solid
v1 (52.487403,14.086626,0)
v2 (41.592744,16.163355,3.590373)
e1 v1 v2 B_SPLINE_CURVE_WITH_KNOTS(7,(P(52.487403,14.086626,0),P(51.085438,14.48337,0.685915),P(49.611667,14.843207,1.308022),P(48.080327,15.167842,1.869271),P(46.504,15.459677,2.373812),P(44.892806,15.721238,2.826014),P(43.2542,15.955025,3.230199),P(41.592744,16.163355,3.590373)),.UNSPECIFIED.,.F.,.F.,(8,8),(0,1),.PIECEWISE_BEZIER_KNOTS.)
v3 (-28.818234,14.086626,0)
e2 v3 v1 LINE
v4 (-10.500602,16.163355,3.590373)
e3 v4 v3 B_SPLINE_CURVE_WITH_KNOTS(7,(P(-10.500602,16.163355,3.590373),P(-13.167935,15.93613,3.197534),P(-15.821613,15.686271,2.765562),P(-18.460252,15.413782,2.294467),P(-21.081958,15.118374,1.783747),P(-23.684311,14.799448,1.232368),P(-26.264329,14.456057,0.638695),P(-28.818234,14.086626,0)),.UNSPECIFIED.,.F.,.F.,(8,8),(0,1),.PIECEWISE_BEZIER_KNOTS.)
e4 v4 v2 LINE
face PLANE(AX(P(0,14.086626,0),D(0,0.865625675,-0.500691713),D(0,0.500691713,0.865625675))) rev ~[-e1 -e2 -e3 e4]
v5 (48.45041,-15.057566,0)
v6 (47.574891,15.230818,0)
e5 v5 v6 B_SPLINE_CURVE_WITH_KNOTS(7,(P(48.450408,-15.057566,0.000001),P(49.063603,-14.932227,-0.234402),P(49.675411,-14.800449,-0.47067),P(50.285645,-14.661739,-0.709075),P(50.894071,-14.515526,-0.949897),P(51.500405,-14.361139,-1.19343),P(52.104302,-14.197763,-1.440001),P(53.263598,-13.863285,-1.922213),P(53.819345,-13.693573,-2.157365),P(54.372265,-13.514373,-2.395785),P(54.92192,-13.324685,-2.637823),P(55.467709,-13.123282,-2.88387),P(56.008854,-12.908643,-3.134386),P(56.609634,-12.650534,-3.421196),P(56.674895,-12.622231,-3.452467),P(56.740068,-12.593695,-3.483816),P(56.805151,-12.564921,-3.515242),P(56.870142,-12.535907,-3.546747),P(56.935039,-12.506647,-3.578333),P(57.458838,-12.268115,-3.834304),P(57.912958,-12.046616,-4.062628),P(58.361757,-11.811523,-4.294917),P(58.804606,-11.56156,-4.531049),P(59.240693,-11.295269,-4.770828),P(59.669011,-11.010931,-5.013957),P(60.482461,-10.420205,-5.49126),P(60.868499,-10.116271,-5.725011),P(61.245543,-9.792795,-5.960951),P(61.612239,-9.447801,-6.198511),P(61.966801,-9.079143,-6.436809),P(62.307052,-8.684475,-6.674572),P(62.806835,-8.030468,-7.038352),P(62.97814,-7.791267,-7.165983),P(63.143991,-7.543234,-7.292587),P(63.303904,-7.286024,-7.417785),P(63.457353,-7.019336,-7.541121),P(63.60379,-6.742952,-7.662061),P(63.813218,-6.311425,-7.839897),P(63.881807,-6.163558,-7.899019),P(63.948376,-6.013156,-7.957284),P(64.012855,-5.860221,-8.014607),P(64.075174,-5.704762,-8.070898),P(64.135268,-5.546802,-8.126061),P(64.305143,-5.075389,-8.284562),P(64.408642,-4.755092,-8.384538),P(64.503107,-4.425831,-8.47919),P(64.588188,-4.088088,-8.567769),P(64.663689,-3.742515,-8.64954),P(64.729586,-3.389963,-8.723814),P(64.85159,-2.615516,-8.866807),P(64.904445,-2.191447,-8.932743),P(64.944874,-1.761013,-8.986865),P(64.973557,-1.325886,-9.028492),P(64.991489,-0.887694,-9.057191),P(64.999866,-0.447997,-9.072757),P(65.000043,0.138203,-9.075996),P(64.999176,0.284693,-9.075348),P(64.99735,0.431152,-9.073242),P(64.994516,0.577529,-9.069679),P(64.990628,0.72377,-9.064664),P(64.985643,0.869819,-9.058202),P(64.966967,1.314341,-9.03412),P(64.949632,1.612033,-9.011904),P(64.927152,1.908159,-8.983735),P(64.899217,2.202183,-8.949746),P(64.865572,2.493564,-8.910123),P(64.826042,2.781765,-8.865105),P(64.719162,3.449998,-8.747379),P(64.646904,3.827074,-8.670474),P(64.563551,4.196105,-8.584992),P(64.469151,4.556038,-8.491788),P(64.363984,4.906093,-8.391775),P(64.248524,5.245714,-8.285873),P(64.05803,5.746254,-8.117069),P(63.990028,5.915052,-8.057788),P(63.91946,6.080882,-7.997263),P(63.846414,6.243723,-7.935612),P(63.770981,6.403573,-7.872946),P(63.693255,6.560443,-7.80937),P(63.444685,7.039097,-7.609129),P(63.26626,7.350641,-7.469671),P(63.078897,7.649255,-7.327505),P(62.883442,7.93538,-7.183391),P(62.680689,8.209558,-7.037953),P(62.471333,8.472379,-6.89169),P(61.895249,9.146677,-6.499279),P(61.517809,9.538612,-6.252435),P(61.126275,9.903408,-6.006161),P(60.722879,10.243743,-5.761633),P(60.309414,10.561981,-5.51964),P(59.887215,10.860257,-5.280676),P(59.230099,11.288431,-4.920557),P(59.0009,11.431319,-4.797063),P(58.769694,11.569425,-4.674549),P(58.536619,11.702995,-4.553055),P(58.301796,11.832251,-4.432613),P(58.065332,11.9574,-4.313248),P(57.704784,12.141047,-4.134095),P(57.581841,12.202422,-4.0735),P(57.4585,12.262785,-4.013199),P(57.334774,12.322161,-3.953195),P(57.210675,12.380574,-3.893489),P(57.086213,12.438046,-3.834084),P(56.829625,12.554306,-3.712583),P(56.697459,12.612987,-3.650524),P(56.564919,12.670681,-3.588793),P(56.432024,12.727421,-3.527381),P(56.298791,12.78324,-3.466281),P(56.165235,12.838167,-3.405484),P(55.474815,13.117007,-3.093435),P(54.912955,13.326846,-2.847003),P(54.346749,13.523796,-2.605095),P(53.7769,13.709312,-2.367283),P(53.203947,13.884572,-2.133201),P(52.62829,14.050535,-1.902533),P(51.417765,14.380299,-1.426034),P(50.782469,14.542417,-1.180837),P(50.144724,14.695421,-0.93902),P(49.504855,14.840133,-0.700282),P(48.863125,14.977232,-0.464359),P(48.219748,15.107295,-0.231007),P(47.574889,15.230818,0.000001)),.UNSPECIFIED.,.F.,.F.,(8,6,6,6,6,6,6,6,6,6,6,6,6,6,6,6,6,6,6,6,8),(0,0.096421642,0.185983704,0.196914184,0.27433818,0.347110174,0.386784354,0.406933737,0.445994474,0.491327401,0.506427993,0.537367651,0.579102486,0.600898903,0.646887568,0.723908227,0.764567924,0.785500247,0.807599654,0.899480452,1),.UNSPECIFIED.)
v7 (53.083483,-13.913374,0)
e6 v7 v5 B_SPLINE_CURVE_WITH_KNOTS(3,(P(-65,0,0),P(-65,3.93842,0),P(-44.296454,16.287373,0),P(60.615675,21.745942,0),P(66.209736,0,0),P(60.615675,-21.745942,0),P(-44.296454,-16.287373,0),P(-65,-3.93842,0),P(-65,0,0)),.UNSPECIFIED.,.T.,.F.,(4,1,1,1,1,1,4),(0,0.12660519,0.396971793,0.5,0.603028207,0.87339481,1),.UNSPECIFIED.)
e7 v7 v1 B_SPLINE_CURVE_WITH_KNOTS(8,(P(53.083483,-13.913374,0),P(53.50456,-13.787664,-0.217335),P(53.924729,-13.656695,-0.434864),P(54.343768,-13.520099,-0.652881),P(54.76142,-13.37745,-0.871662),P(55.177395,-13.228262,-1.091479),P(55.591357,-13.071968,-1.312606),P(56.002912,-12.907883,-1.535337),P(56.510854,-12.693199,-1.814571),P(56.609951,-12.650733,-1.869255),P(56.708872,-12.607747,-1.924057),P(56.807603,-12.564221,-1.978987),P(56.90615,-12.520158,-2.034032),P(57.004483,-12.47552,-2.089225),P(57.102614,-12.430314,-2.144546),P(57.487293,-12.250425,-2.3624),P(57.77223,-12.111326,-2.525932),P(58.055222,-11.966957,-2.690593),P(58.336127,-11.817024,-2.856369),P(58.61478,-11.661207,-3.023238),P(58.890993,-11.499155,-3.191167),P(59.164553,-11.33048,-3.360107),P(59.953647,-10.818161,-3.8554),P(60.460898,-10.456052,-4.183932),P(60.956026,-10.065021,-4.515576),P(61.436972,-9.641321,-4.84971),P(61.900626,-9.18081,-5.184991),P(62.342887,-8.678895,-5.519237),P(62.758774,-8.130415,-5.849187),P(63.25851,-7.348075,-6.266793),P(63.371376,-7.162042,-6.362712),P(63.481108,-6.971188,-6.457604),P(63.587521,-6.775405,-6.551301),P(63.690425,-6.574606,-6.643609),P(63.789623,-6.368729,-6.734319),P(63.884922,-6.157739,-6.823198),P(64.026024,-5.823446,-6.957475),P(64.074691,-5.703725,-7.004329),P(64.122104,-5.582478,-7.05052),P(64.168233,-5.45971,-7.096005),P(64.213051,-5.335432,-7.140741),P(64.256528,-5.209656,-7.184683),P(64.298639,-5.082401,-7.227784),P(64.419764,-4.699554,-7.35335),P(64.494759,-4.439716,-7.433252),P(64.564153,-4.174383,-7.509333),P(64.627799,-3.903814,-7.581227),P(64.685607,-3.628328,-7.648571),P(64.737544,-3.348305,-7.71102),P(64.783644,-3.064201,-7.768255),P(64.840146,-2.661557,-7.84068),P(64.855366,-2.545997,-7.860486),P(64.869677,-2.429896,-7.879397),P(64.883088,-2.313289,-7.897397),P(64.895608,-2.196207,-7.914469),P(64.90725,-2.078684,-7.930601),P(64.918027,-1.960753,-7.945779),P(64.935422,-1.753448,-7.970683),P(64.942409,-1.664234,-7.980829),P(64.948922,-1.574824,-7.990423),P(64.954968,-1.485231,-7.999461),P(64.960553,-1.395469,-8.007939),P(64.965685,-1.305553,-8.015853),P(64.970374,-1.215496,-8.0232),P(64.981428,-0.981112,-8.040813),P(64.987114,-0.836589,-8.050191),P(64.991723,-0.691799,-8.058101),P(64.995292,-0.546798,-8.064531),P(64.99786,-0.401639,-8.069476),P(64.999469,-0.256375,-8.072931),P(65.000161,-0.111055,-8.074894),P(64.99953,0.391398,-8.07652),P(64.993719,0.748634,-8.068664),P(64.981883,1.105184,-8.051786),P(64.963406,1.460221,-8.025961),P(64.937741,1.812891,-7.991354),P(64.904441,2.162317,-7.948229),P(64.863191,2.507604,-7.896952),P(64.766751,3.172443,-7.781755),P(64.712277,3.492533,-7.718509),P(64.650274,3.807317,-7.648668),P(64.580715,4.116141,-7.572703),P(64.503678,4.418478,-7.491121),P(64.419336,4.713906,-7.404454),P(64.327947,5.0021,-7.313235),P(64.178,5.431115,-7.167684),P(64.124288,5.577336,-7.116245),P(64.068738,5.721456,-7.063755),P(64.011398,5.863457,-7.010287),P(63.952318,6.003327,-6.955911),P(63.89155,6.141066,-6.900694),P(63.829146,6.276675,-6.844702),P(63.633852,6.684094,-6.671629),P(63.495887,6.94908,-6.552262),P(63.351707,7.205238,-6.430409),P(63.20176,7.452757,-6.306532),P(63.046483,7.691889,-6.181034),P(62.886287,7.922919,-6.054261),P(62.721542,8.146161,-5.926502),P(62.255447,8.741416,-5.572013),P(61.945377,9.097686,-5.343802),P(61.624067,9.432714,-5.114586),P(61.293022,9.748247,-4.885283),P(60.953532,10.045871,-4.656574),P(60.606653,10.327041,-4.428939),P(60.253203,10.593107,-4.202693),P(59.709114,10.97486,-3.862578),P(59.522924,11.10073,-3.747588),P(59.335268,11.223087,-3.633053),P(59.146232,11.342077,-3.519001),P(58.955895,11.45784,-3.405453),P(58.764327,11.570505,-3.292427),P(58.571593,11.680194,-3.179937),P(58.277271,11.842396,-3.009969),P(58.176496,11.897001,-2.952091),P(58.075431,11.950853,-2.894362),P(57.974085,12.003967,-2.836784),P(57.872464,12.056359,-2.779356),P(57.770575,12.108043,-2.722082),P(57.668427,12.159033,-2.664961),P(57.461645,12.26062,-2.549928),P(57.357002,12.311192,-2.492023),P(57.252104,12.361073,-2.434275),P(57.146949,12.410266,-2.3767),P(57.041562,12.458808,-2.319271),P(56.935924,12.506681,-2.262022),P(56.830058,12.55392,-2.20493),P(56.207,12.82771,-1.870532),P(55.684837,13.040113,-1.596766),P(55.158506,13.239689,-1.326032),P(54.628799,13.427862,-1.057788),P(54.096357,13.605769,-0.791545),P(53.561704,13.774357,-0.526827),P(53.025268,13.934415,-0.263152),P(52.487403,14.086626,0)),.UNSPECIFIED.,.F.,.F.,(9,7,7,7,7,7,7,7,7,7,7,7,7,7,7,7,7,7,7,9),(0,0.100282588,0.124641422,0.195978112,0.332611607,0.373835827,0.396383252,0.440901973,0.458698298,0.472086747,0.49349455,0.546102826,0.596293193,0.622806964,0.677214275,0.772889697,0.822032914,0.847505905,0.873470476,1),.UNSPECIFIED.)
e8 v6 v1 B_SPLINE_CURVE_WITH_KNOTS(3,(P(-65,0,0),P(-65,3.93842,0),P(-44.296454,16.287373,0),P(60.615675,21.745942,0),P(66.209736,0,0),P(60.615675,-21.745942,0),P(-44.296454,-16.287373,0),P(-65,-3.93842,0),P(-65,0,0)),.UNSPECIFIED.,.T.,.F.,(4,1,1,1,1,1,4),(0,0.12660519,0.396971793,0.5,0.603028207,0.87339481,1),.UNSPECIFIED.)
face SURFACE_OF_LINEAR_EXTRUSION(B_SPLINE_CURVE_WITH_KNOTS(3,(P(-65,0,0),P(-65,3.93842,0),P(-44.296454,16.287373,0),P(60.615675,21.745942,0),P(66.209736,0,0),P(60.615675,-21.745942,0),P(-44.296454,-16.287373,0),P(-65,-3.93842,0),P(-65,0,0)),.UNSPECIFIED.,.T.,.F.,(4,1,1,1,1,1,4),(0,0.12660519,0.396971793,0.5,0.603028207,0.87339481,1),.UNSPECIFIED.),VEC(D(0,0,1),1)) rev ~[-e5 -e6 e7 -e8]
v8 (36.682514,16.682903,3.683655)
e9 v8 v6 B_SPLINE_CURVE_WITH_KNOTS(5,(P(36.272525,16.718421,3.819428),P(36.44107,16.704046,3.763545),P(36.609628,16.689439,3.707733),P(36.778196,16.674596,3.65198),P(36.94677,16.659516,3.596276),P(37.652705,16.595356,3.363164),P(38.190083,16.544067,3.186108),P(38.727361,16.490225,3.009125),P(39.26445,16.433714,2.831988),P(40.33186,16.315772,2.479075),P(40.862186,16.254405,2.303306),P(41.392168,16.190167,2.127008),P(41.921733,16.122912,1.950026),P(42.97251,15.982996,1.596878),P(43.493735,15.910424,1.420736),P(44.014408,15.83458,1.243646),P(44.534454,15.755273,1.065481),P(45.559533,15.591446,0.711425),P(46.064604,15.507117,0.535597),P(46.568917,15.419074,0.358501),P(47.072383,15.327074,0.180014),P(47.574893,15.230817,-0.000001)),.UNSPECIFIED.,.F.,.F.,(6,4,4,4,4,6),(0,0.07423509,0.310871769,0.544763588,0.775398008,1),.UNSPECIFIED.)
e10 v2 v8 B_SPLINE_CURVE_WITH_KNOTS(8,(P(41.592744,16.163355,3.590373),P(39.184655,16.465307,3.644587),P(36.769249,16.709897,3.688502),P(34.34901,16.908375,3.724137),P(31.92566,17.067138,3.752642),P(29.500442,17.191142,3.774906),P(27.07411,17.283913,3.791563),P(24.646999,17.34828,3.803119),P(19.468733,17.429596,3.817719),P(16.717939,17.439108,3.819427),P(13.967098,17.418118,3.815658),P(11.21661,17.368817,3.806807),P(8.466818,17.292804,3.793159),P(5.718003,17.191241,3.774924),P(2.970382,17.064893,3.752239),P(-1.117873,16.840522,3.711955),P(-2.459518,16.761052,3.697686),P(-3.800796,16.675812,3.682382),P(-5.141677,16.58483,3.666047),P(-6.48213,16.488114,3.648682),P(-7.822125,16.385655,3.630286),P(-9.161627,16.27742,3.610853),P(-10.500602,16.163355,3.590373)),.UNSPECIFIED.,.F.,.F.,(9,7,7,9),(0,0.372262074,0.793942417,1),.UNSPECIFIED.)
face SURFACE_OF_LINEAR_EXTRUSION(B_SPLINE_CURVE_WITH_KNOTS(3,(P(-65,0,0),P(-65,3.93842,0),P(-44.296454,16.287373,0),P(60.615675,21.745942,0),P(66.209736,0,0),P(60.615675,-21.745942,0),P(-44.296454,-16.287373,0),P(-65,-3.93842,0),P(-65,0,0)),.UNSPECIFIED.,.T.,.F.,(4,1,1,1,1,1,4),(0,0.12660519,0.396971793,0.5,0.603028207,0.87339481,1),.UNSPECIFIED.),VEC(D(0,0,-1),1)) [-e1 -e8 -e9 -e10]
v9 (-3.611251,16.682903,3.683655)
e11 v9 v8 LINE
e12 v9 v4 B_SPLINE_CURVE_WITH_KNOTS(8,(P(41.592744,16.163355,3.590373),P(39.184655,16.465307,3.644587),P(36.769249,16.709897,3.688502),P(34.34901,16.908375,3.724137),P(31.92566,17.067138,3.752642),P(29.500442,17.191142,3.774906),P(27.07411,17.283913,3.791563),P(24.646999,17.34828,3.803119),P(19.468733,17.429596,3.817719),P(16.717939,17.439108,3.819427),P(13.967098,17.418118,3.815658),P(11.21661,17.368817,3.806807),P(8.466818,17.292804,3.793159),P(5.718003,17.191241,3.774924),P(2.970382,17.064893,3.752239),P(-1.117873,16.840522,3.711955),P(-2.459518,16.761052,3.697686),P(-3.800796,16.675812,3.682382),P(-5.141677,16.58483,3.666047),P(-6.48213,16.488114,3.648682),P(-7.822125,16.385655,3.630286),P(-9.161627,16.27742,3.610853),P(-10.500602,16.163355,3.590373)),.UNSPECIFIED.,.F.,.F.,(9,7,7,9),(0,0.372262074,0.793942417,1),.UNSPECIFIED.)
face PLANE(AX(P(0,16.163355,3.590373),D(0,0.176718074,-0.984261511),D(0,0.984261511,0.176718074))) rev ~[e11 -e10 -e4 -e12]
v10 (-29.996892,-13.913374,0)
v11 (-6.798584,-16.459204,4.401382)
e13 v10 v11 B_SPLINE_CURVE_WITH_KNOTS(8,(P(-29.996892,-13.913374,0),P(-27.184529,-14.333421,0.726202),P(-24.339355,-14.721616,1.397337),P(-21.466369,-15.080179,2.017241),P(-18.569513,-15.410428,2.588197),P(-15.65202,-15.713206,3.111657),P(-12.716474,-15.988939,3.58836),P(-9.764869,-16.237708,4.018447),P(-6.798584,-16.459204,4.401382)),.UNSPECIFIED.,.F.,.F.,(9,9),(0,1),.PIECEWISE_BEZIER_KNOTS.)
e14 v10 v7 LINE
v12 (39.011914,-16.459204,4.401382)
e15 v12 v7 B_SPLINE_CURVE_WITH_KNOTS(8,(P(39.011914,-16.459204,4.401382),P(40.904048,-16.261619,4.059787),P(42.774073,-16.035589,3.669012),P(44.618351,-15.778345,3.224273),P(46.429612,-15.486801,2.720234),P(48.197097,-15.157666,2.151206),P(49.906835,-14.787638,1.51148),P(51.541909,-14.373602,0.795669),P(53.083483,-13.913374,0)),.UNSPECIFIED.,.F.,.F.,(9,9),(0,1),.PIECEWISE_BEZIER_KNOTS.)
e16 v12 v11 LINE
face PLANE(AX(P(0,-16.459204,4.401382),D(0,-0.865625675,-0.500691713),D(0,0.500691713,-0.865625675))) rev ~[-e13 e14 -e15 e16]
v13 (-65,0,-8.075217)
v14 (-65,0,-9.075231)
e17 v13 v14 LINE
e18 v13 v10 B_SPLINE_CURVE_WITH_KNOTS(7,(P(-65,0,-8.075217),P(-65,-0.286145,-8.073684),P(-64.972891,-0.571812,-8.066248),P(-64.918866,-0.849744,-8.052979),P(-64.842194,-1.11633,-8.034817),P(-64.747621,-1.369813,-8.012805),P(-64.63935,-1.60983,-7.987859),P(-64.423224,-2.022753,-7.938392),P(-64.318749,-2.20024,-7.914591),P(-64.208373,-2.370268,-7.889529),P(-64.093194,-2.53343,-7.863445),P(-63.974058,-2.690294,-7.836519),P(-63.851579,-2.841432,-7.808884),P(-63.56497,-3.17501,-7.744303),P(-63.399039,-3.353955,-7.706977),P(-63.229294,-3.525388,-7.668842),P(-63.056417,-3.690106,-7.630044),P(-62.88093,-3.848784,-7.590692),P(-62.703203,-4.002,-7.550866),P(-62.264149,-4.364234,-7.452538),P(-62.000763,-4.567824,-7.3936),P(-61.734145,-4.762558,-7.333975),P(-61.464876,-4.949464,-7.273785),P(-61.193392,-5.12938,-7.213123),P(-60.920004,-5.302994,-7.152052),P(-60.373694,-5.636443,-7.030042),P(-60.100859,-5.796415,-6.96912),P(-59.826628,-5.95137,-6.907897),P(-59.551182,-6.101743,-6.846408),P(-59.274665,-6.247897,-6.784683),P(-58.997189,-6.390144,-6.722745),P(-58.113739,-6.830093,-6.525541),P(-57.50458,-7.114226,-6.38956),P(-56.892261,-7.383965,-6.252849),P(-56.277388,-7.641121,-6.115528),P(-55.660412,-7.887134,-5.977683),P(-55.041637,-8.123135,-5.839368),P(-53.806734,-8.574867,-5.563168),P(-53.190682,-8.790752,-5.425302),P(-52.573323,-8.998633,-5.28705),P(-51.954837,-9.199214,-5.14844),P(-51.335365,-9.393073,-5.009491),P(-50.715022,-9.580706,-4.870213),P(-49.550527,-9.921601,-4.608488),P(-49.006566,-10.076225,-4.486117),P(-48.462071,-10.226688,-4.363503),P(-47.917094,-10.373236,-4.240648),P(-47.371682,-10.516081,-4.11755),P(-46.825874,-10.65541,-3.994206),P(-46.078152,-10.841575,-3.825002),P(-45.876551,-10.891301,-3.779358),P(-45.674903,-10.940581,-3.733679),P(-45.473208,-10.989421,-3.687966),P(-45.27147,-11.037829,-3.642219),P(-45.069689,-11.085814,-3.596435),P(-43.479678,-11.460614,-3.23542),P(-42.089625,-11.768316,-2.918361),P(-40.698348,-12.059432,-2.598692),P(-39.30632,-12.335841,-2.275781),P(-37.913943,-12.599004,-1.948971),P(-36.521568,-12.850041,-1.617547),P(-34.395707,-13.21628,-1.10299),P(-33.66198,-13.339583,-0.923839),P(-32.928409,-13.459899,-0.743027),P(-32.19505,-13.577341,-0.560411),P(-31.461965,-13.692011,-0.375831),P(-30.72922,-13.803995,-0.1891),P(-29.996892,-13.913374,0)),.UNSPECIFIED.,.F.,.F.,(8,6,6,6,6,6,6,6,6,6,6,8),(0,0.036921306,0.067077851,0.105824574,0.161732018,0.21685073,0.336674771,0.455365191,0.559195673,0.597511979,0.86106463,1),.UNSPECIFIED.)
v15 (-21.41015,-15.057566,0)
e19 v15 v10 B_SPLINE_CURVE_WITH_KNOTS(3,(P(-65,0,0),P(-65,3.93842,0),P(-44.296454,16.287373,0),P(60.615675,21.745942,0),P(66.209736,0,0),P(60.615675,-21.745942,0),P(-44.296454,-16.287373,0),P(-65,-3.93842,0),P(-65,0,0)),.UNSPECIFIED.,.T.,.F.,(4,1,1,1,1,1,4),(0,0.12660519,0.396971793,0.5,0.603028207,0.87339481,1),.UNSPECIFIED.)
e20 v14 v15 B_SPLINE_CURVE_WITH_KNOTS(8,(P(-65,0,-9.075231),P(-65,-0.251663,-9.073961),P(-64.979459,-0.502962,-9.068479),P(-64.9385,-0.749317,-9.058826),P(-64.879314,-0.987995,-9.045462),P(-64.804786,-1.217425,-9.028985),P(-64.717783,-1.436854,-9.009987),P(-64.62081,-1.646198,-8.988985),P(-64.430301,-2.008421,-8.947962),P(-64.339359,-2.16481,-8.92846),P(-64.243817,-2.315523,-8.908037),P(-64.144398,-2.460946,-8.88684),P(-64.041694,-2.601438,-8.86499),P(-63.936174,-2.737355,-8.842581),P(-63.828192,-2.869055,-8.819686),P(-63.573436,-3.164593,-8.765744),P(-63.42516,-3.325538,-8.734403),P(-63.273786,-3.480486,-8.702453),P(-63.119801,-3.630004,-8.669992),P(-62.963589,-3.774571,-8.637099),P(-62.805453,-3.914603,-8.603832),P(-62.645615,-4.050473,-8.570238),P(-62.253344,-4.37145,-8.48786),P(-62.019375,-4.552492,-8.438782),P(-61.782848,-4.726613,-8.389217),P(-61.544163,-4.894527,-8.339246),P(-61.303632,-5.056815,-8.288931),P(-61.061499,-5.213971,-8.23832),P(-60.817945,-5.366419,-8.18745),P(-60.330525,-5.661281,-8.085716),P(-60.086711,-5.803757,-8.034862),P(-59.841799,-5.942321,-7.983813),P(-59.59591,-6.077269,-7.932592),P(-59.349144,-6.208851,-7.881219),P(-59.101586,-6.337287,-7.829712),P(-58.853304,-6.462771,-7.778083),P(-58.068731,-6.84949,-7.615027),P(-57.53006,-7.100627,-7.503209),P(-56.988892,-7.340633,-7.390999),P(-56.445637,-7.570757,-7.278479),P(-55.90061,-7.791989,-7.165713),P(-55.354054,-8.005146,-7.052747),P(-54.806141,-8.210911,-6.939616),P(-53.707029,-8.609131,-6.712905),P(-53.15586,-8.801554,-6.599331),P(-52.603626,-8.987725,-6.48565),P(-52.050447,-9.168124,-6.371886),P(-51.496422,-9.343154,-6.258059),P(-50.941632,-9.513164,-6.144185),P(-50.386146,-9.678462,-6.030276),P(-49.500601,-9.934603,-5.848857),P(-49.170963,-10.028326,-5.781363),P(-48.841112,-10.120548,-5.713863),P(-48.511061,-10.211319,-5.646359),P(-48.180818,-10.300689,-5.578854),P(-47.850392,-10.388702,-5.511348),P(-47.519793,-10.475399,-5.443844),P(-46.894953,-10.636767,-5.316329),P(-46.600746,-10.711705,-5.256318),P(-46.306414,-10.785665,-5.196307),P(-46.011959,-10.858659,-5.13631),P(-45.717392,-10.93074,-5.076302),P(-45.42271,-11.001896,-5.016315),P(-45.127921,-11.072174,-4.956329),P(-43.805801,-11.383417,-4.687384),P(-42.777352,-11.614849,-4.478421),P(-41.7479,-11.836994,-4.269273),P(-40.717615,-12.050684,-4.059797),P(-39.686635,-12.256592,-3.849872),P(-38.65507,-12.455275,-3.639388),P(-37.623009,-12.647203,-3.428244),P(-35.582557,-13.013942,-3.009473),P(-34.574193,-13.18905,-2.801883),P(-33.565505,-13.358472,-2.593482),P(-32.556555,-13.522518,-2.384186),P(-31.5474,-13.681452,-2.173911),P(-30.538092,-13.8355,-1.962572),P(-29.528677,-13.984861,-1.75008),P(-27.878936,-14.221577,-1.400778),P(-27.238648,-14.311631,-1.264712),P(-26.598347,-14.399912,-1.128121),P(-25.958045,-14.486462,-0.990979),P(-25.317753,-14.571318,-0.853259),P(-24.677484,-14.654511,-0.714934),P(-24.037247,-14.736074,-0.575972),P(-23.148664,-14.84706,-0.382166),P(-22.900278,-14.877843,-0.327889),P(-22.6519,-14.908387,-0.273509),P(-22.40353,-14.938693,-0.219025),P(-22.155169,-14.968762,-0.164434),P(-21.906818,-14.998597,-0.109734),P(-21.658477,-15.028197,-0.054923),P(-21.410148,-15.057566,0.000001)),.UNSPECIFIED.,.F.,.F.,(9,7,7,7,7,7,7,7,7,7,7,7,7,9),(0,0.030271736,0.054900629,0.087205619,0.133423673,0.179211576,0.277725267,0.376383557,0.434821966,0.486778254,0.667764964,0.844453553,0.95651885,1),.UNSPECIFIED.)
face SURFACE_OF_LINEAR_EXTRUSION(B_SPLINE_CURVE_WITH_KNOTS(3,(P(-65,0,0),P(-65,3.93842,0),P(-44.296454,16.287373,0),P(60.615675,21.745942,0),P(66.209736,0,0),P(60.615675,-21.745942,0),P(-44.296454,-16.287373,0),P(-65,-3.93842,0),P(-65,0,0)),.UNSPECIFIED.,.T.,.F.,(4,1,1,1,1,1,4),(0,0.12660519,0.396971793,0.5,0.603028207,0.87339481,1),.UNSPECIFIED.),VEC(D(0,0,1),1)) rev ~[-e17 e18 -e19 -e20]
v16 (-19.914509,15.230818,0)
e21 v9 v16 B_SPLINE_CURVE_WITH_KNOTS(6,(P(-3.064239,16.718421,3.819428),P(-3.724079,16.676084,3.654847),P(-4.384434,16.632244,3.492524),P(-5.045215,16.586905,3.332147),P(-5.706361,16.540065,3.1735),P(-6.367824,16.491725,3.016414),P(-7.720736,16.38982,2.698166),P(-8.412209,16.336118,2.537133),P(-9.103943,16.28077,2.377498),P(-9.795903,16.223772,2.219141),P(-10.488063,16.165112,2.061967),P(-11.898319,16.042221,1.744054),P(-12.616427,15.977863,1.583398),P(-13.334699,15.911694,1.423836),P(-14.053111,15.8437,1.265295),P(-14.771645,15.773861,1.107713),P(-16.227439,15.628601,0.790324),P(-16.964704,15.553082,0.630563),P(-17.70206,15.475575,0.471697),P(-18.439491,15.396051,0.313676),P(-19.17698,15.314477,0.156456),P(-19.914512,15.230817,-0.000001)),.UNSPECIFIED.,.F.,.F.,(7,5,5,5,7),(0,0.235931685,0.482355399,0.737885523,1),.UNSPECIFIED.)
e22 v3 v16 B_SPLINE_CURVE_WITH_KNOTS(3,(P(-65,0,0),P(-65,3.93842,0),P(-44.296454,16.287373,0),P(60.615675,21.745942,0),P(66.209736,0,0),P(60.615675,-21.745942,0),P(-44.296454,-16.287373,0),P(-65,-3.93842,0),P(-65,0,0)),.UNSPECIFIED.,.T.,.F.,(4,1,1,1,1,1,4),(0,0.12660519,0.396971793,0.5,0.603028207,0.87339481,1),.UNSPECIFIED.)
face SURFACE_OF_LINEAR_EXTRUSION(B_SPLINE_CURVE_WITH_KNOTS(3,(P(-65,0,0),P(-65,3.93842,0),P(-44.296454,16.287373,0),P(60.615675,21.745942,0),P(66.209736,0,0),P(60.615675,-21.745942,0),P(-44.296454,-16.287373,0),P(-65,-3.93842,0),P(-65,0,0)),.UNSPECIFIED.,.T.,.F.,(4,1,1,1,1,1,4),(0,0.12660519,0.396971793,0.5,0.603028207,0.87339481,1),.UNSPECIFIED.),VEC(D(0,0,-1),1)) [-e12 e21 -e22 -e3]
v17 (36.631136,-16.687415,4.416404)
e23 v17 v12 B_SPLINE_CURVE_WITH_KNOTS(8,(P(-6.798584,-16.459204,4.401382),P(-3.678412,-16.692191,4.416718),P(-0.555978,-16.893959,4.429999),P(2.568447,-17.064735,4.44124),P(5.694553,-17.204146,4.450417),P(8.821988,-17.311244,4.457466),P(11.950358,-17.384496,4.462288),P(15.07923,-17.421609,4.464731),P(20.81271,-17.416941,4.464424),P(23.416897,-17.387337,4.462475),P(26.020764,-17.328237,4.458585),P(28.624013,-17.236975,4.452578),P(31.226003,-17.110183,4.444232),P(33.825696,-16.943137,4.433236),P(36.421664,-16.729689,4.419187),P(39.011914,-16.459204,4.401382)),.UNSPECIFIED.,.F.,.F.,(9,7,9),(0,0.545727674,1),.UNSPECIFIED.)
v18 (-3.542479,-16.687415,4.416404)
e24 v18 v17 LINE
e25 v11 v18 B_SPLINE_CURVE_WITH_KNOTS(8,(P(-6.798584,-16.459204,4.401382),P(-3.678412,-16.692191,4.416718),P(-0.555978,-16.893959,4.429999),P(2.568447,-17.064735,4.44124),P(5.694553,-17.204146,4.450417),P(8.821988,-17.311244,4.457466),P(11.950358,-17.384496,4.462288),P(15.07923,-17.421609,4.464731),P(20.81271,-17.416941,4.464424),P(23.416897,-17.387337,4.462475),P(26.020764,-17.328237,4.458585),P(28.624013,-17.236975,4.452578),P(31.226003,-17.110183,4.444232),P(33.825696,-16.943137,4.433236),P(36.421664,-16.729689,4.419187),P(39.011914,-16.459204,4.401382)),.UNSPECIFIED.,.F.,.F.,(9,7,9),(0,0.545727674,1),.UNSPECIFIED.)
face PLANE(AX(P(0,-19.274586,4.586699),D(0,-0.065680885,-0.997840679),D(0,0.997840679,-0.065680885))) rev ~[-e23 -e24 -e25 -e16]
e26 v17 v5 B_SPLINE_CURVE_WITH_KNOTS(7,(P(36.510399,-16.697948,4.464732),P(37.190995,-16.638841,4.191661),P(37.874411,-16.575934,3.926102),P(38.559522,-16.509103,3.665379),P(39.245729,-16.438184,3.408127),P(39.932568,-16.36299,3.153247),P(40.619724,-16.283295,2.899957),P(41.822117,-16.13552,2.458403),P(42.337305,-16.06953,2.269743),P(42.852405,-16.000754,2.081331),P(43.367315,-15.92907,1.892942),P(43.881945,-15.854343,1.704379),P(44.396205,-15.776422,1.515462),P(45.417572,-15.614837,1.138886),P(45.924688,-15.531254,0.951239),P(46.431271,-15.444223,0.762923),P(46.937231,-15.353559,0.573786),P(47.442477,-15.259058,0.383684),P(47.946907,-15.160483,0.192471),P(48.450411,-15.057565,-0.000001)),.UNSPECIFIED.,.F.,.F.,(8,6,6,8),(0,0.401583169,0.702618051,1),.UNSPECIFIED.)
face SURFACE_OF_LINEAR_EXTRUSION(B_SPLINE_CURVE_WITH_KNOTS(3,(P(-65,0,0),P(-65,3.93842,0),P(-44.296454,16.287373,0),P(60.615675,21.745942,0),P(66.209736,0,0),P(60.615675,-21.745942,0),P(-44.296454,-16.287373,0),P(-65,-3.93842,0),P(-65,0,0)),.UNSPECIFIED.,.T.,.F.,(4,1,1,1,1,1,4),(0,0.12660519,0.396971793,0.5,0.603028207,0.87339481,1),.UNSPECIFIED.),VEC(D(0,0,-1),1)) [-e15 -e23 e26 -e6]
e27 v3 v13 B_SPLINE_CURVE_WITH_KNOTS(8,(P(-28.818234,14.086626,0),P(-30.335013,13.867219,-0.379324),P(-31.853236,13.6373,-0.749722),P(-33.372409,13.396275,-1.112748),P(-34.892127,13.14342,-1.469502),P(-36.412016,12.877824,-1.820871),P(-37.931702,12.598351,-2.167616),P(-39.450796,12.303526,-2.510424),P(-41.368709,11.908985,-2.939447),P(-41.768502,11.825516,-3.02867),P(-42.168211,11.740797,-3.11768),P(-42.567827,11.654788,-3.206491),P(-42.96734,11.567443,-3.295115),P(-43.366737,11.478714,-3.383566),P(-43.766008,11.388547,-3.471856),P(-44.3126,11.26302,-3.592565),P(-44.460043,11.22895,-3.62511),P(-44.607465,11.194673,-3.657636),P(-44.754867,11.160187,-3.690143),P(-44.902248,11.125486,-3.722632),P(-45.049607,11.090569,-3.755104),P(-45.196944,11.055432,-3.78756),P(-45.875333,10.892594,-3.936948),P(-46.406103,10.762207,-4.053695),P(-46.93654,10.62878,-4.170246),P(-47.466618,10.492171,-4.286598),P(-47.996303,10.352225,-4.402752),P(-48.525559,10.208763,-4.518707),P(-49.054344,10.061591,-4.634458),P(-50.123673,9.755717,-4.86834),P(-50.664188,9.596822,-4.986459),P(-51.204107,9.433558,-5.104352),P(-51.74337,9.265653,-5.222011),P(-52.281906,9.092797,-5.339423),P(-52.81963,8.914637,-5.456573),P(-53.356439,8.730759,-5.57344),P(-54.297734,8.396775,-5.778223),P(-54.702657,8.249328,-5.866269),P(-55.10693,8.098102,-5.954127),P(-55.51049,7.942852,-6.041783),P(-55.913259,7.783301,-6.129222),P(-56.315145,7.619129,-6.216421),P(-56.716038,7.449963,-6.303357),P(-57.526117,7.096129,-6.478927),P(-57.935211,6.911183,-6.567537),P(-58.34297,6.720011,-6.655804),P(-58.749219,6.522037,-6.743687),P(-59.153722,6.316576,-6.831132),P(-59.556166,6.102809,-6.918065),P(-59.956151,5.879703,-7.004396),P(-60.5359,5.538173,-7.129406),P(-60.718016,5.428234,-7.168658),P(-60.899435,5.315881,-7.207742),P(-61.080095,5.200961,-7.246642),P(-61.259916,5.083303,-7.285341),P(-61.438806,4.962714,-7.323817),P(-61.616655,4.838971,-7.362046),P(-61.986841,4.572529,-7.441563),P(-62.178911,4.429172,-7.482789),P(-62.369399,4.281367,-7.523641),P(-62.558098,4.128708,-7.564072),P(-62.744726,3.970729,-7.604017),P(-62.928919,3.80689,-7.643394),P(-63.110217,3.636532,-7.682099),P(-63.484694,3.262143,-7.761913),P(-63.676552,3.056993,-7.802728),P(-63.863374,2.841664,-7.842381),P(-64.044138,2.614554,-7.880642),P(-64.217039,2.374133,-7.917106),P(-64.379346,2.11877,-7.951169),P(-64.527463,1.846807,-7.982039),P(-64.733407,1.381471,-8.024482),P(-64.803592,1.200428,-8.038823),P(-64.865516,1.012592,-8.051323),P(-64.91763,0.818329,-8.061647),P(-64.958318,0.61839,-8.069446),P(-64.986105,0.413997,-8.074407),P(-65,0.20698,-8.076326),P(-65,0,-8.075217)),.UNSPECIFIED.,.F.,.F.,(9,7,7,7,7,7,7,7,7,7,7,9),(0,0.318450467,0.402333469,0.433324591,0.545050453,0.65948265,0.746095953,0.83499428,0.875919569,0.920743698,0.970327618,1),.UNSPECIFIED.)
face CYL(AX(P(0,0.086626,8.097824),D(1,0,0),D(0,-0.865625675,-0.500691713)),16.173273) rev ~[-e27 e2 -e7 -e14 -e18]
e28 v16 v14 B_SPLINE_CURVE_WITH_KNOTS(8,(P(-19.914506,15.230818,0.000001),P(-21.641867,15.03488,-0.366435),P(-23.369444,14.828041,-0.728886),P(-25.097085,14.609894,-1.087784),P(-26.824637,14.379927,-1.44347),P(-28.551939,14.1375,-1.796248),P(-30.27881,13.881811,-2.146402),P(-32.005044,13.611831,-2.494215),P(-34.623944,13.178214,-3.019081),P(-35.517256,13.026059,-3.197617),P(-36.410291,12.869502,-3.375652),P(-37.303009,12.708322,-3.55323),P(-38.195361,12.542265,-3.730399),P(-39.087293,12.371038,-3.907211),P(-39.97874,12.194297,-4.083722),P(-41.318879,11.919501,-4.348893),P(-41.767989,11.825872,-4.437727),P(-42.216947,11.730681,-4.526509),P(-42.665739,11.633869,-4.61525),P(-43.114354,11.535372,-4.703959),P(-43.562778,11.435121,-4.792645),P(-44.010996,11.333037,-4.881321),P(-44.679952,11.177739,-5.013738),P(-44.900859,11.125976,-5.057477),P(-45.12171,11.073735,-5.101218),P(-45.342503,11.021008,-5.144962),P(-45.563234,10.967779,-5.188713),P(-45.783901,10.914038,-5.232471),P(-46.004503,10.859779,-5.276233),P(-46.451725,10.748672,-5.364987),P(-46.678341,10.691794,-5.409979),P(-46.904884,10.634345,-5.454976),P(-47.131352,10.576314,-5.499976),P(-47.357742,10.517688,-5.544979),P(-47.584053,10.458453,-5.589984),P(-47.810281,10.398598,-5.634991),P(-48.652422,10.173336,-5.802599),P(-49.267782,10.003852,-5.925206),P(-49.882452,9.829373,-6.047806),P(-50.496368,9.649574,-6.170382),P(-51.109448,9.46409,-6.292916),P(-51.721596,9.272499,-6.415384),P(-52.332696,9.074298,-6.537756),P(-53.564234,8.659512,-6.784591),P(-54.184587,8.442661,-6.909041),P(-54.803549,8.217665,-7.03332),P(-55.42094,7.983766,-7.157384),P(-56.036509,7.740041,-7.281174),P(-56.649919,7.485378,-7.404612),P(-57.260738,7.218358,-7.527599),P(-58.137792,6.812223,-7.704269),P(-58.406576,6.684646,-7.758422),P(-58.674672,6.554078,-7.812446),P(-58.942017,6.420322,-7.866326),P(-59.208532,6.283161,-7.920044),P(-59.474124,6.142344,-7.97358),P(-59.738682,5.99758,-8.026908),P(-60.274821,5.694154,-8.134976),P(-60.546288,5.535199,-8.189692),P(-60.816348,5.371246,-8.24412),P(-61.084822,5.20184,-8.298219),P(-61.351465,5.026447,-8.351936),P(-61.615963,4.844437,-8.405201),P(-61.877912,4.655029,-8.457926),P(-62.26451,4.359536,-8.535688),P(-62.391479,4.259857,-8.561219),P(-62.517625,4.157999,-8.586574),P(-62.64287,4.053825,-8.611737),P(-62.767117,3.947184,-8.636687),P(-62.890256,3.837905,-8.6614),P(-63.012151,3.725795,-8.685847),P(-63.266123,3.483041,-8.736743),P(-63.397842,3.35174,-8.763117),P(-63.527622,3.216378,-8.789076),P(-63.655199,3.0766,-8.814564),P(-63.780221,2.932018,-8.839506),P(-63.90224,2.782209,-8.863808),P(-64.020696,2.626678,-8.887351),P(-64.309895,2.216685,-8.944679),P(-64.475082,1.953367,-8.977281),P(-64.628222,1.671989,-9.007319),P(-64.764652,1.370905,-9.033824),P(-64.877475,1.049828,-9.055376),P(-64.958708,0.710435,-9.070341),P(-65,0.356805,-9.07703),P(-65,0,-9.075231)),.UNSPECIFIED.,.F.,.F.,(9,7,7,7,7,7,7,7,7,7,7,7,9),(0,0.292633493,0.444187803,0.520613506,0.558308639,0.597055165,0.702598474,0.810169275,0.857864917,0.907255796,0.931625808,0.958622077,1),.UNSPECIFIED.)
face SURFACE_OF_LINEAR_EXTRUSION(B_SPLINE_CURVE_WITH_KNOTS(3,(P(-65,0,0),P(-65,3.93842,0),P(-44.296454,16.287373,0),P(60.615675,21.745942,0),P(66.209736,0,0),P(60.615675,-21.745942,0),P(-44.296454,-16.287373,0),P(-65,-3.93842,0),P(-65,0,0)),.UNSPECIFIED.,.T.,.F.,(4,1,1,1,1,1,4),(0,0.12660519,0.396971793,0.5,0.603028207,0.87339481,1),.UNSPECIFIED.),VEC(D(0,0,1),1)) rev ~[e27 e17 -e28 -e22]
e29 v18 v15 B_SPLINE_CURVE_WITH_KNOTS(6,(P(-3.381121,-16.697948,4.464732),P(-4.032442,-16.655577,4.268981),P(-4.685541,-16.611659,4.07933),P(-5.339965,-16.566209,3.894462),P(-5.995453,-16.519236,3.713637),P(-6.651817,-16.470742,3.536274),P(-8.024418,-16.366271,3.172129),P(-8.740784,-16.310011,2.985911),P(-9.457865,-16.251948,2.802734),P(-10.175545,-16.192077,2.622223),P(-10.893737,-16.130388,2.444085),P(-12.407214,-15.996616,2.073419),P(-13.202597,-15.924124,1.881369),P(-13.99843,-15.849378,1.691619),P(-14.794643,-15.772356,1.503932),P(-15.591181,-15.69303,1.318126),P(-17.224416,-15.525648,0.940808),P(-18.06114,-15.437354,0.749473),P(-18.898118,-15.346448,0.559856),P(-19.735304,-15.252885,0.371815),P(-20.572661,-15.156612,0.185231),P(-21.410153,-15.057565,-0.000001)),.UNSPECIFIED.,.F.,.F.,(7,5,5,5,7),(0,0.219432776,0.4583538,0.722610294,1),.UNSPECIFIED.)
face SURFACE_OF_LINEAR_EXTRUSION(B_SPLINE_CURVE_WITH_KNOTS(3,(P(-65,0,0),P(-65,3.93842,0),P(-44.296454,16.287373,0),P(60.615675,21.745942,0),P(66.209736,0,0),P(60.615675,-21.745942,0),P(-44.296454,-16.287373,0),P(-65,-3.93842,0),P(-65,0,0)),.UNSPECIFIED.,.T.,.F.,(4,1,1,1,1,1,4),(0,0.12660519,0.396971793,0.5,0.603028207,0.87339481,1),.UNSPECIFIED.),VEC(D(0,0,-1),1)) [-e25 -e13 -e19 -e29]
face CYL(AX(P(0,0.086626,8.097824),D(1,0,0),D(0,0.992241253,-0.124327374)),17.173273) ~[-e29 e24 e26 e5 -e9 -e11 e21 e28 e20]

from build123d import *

# Parameters (mm, degrees)
F1_DEPTH = 10
F3_DEPTH = 100
F5_DEPTH = 100


with BuildPart() as f1:
    # F0 (on Top) → F1 (new body, symmetric)
    with BuildSketch(Plane.XY):
        with BuildLine():
            add(Edge.make_bspline(
                [(-65, 0), (-65, 3.9384197578), (-44.2964541725, 16.2873728277), (60.6156752763, 21.7459423145), (66.2097359245, 0), (60.6156752763, -21.7459423145), (-44.2964541725, -16.2873728277), (-65, -3.9384197578), (-65, 0)],
                knots=[0, 0, 0, 0, 0.1266051902, 0.396971793, 0.5, 0.603028207, 0.8733948098, 1, 1, 1, 1], degree=3))
        make_face()
    extrude(amount=F1_DEPTH, both=True)

    # F2 (on Right) → F3 (cut, symmetric)
    with BuildSketch(Plane.YZ):
        with BuildLine():
            Line((-16.4592039081, 4.401382496), (-13.9133739891, 0))
            ThreePointArc((-13.9133739891, 0), (0.0866260109, -8.075449035), (14.0866260109, 0))
            Line((14.0866260109, 0), (16.1633553569, 3.5903734669))
            Line((16.1633553569, 3.5903734669), (19.0447389302, 4.1077080864))
            Line((19.0447389302, 4.1077080864), (19.0447389302, 11.0051862262))
            Line((19.0447389302, 11.0051862262), (-19.27458619, 11.0051862262))
            Line((-19.27458619, 11.0051862262), (-19.27458619, 4.5866994551))
            Line((-19.27458619, 4.5866994551), (-16.4592039081, 4.401382496))
        make_face()
    extrude(amount=F3_DEPTH, both=True, mode=Mode.SUBTRACT)

    # F4 (on Right) → F5 (cut, symmetric)
    with BuildSketch(Plane.YZ):
        with BuildLine():
            ThreePointArc((17.1266555259, 5.9627156688), (-0.4915957656, -9.0657119499), (-17.0584643799, 7.1143770355))
            Line((-17.0584643799, 7.1143770355), (-23.8942094147, -11.3926613703))
            Line((-23.8942094147, -11.3926613703), (20.4203258146, -11.3926613703))
            Line((20.4203258146, -11.3926613703), (17.1266555259, 5.9627156688))
        make_face()
    extrude(amount=F5_DEPTH, both=True, mode=Mode.SUBTRACT)


solid = f1.part
